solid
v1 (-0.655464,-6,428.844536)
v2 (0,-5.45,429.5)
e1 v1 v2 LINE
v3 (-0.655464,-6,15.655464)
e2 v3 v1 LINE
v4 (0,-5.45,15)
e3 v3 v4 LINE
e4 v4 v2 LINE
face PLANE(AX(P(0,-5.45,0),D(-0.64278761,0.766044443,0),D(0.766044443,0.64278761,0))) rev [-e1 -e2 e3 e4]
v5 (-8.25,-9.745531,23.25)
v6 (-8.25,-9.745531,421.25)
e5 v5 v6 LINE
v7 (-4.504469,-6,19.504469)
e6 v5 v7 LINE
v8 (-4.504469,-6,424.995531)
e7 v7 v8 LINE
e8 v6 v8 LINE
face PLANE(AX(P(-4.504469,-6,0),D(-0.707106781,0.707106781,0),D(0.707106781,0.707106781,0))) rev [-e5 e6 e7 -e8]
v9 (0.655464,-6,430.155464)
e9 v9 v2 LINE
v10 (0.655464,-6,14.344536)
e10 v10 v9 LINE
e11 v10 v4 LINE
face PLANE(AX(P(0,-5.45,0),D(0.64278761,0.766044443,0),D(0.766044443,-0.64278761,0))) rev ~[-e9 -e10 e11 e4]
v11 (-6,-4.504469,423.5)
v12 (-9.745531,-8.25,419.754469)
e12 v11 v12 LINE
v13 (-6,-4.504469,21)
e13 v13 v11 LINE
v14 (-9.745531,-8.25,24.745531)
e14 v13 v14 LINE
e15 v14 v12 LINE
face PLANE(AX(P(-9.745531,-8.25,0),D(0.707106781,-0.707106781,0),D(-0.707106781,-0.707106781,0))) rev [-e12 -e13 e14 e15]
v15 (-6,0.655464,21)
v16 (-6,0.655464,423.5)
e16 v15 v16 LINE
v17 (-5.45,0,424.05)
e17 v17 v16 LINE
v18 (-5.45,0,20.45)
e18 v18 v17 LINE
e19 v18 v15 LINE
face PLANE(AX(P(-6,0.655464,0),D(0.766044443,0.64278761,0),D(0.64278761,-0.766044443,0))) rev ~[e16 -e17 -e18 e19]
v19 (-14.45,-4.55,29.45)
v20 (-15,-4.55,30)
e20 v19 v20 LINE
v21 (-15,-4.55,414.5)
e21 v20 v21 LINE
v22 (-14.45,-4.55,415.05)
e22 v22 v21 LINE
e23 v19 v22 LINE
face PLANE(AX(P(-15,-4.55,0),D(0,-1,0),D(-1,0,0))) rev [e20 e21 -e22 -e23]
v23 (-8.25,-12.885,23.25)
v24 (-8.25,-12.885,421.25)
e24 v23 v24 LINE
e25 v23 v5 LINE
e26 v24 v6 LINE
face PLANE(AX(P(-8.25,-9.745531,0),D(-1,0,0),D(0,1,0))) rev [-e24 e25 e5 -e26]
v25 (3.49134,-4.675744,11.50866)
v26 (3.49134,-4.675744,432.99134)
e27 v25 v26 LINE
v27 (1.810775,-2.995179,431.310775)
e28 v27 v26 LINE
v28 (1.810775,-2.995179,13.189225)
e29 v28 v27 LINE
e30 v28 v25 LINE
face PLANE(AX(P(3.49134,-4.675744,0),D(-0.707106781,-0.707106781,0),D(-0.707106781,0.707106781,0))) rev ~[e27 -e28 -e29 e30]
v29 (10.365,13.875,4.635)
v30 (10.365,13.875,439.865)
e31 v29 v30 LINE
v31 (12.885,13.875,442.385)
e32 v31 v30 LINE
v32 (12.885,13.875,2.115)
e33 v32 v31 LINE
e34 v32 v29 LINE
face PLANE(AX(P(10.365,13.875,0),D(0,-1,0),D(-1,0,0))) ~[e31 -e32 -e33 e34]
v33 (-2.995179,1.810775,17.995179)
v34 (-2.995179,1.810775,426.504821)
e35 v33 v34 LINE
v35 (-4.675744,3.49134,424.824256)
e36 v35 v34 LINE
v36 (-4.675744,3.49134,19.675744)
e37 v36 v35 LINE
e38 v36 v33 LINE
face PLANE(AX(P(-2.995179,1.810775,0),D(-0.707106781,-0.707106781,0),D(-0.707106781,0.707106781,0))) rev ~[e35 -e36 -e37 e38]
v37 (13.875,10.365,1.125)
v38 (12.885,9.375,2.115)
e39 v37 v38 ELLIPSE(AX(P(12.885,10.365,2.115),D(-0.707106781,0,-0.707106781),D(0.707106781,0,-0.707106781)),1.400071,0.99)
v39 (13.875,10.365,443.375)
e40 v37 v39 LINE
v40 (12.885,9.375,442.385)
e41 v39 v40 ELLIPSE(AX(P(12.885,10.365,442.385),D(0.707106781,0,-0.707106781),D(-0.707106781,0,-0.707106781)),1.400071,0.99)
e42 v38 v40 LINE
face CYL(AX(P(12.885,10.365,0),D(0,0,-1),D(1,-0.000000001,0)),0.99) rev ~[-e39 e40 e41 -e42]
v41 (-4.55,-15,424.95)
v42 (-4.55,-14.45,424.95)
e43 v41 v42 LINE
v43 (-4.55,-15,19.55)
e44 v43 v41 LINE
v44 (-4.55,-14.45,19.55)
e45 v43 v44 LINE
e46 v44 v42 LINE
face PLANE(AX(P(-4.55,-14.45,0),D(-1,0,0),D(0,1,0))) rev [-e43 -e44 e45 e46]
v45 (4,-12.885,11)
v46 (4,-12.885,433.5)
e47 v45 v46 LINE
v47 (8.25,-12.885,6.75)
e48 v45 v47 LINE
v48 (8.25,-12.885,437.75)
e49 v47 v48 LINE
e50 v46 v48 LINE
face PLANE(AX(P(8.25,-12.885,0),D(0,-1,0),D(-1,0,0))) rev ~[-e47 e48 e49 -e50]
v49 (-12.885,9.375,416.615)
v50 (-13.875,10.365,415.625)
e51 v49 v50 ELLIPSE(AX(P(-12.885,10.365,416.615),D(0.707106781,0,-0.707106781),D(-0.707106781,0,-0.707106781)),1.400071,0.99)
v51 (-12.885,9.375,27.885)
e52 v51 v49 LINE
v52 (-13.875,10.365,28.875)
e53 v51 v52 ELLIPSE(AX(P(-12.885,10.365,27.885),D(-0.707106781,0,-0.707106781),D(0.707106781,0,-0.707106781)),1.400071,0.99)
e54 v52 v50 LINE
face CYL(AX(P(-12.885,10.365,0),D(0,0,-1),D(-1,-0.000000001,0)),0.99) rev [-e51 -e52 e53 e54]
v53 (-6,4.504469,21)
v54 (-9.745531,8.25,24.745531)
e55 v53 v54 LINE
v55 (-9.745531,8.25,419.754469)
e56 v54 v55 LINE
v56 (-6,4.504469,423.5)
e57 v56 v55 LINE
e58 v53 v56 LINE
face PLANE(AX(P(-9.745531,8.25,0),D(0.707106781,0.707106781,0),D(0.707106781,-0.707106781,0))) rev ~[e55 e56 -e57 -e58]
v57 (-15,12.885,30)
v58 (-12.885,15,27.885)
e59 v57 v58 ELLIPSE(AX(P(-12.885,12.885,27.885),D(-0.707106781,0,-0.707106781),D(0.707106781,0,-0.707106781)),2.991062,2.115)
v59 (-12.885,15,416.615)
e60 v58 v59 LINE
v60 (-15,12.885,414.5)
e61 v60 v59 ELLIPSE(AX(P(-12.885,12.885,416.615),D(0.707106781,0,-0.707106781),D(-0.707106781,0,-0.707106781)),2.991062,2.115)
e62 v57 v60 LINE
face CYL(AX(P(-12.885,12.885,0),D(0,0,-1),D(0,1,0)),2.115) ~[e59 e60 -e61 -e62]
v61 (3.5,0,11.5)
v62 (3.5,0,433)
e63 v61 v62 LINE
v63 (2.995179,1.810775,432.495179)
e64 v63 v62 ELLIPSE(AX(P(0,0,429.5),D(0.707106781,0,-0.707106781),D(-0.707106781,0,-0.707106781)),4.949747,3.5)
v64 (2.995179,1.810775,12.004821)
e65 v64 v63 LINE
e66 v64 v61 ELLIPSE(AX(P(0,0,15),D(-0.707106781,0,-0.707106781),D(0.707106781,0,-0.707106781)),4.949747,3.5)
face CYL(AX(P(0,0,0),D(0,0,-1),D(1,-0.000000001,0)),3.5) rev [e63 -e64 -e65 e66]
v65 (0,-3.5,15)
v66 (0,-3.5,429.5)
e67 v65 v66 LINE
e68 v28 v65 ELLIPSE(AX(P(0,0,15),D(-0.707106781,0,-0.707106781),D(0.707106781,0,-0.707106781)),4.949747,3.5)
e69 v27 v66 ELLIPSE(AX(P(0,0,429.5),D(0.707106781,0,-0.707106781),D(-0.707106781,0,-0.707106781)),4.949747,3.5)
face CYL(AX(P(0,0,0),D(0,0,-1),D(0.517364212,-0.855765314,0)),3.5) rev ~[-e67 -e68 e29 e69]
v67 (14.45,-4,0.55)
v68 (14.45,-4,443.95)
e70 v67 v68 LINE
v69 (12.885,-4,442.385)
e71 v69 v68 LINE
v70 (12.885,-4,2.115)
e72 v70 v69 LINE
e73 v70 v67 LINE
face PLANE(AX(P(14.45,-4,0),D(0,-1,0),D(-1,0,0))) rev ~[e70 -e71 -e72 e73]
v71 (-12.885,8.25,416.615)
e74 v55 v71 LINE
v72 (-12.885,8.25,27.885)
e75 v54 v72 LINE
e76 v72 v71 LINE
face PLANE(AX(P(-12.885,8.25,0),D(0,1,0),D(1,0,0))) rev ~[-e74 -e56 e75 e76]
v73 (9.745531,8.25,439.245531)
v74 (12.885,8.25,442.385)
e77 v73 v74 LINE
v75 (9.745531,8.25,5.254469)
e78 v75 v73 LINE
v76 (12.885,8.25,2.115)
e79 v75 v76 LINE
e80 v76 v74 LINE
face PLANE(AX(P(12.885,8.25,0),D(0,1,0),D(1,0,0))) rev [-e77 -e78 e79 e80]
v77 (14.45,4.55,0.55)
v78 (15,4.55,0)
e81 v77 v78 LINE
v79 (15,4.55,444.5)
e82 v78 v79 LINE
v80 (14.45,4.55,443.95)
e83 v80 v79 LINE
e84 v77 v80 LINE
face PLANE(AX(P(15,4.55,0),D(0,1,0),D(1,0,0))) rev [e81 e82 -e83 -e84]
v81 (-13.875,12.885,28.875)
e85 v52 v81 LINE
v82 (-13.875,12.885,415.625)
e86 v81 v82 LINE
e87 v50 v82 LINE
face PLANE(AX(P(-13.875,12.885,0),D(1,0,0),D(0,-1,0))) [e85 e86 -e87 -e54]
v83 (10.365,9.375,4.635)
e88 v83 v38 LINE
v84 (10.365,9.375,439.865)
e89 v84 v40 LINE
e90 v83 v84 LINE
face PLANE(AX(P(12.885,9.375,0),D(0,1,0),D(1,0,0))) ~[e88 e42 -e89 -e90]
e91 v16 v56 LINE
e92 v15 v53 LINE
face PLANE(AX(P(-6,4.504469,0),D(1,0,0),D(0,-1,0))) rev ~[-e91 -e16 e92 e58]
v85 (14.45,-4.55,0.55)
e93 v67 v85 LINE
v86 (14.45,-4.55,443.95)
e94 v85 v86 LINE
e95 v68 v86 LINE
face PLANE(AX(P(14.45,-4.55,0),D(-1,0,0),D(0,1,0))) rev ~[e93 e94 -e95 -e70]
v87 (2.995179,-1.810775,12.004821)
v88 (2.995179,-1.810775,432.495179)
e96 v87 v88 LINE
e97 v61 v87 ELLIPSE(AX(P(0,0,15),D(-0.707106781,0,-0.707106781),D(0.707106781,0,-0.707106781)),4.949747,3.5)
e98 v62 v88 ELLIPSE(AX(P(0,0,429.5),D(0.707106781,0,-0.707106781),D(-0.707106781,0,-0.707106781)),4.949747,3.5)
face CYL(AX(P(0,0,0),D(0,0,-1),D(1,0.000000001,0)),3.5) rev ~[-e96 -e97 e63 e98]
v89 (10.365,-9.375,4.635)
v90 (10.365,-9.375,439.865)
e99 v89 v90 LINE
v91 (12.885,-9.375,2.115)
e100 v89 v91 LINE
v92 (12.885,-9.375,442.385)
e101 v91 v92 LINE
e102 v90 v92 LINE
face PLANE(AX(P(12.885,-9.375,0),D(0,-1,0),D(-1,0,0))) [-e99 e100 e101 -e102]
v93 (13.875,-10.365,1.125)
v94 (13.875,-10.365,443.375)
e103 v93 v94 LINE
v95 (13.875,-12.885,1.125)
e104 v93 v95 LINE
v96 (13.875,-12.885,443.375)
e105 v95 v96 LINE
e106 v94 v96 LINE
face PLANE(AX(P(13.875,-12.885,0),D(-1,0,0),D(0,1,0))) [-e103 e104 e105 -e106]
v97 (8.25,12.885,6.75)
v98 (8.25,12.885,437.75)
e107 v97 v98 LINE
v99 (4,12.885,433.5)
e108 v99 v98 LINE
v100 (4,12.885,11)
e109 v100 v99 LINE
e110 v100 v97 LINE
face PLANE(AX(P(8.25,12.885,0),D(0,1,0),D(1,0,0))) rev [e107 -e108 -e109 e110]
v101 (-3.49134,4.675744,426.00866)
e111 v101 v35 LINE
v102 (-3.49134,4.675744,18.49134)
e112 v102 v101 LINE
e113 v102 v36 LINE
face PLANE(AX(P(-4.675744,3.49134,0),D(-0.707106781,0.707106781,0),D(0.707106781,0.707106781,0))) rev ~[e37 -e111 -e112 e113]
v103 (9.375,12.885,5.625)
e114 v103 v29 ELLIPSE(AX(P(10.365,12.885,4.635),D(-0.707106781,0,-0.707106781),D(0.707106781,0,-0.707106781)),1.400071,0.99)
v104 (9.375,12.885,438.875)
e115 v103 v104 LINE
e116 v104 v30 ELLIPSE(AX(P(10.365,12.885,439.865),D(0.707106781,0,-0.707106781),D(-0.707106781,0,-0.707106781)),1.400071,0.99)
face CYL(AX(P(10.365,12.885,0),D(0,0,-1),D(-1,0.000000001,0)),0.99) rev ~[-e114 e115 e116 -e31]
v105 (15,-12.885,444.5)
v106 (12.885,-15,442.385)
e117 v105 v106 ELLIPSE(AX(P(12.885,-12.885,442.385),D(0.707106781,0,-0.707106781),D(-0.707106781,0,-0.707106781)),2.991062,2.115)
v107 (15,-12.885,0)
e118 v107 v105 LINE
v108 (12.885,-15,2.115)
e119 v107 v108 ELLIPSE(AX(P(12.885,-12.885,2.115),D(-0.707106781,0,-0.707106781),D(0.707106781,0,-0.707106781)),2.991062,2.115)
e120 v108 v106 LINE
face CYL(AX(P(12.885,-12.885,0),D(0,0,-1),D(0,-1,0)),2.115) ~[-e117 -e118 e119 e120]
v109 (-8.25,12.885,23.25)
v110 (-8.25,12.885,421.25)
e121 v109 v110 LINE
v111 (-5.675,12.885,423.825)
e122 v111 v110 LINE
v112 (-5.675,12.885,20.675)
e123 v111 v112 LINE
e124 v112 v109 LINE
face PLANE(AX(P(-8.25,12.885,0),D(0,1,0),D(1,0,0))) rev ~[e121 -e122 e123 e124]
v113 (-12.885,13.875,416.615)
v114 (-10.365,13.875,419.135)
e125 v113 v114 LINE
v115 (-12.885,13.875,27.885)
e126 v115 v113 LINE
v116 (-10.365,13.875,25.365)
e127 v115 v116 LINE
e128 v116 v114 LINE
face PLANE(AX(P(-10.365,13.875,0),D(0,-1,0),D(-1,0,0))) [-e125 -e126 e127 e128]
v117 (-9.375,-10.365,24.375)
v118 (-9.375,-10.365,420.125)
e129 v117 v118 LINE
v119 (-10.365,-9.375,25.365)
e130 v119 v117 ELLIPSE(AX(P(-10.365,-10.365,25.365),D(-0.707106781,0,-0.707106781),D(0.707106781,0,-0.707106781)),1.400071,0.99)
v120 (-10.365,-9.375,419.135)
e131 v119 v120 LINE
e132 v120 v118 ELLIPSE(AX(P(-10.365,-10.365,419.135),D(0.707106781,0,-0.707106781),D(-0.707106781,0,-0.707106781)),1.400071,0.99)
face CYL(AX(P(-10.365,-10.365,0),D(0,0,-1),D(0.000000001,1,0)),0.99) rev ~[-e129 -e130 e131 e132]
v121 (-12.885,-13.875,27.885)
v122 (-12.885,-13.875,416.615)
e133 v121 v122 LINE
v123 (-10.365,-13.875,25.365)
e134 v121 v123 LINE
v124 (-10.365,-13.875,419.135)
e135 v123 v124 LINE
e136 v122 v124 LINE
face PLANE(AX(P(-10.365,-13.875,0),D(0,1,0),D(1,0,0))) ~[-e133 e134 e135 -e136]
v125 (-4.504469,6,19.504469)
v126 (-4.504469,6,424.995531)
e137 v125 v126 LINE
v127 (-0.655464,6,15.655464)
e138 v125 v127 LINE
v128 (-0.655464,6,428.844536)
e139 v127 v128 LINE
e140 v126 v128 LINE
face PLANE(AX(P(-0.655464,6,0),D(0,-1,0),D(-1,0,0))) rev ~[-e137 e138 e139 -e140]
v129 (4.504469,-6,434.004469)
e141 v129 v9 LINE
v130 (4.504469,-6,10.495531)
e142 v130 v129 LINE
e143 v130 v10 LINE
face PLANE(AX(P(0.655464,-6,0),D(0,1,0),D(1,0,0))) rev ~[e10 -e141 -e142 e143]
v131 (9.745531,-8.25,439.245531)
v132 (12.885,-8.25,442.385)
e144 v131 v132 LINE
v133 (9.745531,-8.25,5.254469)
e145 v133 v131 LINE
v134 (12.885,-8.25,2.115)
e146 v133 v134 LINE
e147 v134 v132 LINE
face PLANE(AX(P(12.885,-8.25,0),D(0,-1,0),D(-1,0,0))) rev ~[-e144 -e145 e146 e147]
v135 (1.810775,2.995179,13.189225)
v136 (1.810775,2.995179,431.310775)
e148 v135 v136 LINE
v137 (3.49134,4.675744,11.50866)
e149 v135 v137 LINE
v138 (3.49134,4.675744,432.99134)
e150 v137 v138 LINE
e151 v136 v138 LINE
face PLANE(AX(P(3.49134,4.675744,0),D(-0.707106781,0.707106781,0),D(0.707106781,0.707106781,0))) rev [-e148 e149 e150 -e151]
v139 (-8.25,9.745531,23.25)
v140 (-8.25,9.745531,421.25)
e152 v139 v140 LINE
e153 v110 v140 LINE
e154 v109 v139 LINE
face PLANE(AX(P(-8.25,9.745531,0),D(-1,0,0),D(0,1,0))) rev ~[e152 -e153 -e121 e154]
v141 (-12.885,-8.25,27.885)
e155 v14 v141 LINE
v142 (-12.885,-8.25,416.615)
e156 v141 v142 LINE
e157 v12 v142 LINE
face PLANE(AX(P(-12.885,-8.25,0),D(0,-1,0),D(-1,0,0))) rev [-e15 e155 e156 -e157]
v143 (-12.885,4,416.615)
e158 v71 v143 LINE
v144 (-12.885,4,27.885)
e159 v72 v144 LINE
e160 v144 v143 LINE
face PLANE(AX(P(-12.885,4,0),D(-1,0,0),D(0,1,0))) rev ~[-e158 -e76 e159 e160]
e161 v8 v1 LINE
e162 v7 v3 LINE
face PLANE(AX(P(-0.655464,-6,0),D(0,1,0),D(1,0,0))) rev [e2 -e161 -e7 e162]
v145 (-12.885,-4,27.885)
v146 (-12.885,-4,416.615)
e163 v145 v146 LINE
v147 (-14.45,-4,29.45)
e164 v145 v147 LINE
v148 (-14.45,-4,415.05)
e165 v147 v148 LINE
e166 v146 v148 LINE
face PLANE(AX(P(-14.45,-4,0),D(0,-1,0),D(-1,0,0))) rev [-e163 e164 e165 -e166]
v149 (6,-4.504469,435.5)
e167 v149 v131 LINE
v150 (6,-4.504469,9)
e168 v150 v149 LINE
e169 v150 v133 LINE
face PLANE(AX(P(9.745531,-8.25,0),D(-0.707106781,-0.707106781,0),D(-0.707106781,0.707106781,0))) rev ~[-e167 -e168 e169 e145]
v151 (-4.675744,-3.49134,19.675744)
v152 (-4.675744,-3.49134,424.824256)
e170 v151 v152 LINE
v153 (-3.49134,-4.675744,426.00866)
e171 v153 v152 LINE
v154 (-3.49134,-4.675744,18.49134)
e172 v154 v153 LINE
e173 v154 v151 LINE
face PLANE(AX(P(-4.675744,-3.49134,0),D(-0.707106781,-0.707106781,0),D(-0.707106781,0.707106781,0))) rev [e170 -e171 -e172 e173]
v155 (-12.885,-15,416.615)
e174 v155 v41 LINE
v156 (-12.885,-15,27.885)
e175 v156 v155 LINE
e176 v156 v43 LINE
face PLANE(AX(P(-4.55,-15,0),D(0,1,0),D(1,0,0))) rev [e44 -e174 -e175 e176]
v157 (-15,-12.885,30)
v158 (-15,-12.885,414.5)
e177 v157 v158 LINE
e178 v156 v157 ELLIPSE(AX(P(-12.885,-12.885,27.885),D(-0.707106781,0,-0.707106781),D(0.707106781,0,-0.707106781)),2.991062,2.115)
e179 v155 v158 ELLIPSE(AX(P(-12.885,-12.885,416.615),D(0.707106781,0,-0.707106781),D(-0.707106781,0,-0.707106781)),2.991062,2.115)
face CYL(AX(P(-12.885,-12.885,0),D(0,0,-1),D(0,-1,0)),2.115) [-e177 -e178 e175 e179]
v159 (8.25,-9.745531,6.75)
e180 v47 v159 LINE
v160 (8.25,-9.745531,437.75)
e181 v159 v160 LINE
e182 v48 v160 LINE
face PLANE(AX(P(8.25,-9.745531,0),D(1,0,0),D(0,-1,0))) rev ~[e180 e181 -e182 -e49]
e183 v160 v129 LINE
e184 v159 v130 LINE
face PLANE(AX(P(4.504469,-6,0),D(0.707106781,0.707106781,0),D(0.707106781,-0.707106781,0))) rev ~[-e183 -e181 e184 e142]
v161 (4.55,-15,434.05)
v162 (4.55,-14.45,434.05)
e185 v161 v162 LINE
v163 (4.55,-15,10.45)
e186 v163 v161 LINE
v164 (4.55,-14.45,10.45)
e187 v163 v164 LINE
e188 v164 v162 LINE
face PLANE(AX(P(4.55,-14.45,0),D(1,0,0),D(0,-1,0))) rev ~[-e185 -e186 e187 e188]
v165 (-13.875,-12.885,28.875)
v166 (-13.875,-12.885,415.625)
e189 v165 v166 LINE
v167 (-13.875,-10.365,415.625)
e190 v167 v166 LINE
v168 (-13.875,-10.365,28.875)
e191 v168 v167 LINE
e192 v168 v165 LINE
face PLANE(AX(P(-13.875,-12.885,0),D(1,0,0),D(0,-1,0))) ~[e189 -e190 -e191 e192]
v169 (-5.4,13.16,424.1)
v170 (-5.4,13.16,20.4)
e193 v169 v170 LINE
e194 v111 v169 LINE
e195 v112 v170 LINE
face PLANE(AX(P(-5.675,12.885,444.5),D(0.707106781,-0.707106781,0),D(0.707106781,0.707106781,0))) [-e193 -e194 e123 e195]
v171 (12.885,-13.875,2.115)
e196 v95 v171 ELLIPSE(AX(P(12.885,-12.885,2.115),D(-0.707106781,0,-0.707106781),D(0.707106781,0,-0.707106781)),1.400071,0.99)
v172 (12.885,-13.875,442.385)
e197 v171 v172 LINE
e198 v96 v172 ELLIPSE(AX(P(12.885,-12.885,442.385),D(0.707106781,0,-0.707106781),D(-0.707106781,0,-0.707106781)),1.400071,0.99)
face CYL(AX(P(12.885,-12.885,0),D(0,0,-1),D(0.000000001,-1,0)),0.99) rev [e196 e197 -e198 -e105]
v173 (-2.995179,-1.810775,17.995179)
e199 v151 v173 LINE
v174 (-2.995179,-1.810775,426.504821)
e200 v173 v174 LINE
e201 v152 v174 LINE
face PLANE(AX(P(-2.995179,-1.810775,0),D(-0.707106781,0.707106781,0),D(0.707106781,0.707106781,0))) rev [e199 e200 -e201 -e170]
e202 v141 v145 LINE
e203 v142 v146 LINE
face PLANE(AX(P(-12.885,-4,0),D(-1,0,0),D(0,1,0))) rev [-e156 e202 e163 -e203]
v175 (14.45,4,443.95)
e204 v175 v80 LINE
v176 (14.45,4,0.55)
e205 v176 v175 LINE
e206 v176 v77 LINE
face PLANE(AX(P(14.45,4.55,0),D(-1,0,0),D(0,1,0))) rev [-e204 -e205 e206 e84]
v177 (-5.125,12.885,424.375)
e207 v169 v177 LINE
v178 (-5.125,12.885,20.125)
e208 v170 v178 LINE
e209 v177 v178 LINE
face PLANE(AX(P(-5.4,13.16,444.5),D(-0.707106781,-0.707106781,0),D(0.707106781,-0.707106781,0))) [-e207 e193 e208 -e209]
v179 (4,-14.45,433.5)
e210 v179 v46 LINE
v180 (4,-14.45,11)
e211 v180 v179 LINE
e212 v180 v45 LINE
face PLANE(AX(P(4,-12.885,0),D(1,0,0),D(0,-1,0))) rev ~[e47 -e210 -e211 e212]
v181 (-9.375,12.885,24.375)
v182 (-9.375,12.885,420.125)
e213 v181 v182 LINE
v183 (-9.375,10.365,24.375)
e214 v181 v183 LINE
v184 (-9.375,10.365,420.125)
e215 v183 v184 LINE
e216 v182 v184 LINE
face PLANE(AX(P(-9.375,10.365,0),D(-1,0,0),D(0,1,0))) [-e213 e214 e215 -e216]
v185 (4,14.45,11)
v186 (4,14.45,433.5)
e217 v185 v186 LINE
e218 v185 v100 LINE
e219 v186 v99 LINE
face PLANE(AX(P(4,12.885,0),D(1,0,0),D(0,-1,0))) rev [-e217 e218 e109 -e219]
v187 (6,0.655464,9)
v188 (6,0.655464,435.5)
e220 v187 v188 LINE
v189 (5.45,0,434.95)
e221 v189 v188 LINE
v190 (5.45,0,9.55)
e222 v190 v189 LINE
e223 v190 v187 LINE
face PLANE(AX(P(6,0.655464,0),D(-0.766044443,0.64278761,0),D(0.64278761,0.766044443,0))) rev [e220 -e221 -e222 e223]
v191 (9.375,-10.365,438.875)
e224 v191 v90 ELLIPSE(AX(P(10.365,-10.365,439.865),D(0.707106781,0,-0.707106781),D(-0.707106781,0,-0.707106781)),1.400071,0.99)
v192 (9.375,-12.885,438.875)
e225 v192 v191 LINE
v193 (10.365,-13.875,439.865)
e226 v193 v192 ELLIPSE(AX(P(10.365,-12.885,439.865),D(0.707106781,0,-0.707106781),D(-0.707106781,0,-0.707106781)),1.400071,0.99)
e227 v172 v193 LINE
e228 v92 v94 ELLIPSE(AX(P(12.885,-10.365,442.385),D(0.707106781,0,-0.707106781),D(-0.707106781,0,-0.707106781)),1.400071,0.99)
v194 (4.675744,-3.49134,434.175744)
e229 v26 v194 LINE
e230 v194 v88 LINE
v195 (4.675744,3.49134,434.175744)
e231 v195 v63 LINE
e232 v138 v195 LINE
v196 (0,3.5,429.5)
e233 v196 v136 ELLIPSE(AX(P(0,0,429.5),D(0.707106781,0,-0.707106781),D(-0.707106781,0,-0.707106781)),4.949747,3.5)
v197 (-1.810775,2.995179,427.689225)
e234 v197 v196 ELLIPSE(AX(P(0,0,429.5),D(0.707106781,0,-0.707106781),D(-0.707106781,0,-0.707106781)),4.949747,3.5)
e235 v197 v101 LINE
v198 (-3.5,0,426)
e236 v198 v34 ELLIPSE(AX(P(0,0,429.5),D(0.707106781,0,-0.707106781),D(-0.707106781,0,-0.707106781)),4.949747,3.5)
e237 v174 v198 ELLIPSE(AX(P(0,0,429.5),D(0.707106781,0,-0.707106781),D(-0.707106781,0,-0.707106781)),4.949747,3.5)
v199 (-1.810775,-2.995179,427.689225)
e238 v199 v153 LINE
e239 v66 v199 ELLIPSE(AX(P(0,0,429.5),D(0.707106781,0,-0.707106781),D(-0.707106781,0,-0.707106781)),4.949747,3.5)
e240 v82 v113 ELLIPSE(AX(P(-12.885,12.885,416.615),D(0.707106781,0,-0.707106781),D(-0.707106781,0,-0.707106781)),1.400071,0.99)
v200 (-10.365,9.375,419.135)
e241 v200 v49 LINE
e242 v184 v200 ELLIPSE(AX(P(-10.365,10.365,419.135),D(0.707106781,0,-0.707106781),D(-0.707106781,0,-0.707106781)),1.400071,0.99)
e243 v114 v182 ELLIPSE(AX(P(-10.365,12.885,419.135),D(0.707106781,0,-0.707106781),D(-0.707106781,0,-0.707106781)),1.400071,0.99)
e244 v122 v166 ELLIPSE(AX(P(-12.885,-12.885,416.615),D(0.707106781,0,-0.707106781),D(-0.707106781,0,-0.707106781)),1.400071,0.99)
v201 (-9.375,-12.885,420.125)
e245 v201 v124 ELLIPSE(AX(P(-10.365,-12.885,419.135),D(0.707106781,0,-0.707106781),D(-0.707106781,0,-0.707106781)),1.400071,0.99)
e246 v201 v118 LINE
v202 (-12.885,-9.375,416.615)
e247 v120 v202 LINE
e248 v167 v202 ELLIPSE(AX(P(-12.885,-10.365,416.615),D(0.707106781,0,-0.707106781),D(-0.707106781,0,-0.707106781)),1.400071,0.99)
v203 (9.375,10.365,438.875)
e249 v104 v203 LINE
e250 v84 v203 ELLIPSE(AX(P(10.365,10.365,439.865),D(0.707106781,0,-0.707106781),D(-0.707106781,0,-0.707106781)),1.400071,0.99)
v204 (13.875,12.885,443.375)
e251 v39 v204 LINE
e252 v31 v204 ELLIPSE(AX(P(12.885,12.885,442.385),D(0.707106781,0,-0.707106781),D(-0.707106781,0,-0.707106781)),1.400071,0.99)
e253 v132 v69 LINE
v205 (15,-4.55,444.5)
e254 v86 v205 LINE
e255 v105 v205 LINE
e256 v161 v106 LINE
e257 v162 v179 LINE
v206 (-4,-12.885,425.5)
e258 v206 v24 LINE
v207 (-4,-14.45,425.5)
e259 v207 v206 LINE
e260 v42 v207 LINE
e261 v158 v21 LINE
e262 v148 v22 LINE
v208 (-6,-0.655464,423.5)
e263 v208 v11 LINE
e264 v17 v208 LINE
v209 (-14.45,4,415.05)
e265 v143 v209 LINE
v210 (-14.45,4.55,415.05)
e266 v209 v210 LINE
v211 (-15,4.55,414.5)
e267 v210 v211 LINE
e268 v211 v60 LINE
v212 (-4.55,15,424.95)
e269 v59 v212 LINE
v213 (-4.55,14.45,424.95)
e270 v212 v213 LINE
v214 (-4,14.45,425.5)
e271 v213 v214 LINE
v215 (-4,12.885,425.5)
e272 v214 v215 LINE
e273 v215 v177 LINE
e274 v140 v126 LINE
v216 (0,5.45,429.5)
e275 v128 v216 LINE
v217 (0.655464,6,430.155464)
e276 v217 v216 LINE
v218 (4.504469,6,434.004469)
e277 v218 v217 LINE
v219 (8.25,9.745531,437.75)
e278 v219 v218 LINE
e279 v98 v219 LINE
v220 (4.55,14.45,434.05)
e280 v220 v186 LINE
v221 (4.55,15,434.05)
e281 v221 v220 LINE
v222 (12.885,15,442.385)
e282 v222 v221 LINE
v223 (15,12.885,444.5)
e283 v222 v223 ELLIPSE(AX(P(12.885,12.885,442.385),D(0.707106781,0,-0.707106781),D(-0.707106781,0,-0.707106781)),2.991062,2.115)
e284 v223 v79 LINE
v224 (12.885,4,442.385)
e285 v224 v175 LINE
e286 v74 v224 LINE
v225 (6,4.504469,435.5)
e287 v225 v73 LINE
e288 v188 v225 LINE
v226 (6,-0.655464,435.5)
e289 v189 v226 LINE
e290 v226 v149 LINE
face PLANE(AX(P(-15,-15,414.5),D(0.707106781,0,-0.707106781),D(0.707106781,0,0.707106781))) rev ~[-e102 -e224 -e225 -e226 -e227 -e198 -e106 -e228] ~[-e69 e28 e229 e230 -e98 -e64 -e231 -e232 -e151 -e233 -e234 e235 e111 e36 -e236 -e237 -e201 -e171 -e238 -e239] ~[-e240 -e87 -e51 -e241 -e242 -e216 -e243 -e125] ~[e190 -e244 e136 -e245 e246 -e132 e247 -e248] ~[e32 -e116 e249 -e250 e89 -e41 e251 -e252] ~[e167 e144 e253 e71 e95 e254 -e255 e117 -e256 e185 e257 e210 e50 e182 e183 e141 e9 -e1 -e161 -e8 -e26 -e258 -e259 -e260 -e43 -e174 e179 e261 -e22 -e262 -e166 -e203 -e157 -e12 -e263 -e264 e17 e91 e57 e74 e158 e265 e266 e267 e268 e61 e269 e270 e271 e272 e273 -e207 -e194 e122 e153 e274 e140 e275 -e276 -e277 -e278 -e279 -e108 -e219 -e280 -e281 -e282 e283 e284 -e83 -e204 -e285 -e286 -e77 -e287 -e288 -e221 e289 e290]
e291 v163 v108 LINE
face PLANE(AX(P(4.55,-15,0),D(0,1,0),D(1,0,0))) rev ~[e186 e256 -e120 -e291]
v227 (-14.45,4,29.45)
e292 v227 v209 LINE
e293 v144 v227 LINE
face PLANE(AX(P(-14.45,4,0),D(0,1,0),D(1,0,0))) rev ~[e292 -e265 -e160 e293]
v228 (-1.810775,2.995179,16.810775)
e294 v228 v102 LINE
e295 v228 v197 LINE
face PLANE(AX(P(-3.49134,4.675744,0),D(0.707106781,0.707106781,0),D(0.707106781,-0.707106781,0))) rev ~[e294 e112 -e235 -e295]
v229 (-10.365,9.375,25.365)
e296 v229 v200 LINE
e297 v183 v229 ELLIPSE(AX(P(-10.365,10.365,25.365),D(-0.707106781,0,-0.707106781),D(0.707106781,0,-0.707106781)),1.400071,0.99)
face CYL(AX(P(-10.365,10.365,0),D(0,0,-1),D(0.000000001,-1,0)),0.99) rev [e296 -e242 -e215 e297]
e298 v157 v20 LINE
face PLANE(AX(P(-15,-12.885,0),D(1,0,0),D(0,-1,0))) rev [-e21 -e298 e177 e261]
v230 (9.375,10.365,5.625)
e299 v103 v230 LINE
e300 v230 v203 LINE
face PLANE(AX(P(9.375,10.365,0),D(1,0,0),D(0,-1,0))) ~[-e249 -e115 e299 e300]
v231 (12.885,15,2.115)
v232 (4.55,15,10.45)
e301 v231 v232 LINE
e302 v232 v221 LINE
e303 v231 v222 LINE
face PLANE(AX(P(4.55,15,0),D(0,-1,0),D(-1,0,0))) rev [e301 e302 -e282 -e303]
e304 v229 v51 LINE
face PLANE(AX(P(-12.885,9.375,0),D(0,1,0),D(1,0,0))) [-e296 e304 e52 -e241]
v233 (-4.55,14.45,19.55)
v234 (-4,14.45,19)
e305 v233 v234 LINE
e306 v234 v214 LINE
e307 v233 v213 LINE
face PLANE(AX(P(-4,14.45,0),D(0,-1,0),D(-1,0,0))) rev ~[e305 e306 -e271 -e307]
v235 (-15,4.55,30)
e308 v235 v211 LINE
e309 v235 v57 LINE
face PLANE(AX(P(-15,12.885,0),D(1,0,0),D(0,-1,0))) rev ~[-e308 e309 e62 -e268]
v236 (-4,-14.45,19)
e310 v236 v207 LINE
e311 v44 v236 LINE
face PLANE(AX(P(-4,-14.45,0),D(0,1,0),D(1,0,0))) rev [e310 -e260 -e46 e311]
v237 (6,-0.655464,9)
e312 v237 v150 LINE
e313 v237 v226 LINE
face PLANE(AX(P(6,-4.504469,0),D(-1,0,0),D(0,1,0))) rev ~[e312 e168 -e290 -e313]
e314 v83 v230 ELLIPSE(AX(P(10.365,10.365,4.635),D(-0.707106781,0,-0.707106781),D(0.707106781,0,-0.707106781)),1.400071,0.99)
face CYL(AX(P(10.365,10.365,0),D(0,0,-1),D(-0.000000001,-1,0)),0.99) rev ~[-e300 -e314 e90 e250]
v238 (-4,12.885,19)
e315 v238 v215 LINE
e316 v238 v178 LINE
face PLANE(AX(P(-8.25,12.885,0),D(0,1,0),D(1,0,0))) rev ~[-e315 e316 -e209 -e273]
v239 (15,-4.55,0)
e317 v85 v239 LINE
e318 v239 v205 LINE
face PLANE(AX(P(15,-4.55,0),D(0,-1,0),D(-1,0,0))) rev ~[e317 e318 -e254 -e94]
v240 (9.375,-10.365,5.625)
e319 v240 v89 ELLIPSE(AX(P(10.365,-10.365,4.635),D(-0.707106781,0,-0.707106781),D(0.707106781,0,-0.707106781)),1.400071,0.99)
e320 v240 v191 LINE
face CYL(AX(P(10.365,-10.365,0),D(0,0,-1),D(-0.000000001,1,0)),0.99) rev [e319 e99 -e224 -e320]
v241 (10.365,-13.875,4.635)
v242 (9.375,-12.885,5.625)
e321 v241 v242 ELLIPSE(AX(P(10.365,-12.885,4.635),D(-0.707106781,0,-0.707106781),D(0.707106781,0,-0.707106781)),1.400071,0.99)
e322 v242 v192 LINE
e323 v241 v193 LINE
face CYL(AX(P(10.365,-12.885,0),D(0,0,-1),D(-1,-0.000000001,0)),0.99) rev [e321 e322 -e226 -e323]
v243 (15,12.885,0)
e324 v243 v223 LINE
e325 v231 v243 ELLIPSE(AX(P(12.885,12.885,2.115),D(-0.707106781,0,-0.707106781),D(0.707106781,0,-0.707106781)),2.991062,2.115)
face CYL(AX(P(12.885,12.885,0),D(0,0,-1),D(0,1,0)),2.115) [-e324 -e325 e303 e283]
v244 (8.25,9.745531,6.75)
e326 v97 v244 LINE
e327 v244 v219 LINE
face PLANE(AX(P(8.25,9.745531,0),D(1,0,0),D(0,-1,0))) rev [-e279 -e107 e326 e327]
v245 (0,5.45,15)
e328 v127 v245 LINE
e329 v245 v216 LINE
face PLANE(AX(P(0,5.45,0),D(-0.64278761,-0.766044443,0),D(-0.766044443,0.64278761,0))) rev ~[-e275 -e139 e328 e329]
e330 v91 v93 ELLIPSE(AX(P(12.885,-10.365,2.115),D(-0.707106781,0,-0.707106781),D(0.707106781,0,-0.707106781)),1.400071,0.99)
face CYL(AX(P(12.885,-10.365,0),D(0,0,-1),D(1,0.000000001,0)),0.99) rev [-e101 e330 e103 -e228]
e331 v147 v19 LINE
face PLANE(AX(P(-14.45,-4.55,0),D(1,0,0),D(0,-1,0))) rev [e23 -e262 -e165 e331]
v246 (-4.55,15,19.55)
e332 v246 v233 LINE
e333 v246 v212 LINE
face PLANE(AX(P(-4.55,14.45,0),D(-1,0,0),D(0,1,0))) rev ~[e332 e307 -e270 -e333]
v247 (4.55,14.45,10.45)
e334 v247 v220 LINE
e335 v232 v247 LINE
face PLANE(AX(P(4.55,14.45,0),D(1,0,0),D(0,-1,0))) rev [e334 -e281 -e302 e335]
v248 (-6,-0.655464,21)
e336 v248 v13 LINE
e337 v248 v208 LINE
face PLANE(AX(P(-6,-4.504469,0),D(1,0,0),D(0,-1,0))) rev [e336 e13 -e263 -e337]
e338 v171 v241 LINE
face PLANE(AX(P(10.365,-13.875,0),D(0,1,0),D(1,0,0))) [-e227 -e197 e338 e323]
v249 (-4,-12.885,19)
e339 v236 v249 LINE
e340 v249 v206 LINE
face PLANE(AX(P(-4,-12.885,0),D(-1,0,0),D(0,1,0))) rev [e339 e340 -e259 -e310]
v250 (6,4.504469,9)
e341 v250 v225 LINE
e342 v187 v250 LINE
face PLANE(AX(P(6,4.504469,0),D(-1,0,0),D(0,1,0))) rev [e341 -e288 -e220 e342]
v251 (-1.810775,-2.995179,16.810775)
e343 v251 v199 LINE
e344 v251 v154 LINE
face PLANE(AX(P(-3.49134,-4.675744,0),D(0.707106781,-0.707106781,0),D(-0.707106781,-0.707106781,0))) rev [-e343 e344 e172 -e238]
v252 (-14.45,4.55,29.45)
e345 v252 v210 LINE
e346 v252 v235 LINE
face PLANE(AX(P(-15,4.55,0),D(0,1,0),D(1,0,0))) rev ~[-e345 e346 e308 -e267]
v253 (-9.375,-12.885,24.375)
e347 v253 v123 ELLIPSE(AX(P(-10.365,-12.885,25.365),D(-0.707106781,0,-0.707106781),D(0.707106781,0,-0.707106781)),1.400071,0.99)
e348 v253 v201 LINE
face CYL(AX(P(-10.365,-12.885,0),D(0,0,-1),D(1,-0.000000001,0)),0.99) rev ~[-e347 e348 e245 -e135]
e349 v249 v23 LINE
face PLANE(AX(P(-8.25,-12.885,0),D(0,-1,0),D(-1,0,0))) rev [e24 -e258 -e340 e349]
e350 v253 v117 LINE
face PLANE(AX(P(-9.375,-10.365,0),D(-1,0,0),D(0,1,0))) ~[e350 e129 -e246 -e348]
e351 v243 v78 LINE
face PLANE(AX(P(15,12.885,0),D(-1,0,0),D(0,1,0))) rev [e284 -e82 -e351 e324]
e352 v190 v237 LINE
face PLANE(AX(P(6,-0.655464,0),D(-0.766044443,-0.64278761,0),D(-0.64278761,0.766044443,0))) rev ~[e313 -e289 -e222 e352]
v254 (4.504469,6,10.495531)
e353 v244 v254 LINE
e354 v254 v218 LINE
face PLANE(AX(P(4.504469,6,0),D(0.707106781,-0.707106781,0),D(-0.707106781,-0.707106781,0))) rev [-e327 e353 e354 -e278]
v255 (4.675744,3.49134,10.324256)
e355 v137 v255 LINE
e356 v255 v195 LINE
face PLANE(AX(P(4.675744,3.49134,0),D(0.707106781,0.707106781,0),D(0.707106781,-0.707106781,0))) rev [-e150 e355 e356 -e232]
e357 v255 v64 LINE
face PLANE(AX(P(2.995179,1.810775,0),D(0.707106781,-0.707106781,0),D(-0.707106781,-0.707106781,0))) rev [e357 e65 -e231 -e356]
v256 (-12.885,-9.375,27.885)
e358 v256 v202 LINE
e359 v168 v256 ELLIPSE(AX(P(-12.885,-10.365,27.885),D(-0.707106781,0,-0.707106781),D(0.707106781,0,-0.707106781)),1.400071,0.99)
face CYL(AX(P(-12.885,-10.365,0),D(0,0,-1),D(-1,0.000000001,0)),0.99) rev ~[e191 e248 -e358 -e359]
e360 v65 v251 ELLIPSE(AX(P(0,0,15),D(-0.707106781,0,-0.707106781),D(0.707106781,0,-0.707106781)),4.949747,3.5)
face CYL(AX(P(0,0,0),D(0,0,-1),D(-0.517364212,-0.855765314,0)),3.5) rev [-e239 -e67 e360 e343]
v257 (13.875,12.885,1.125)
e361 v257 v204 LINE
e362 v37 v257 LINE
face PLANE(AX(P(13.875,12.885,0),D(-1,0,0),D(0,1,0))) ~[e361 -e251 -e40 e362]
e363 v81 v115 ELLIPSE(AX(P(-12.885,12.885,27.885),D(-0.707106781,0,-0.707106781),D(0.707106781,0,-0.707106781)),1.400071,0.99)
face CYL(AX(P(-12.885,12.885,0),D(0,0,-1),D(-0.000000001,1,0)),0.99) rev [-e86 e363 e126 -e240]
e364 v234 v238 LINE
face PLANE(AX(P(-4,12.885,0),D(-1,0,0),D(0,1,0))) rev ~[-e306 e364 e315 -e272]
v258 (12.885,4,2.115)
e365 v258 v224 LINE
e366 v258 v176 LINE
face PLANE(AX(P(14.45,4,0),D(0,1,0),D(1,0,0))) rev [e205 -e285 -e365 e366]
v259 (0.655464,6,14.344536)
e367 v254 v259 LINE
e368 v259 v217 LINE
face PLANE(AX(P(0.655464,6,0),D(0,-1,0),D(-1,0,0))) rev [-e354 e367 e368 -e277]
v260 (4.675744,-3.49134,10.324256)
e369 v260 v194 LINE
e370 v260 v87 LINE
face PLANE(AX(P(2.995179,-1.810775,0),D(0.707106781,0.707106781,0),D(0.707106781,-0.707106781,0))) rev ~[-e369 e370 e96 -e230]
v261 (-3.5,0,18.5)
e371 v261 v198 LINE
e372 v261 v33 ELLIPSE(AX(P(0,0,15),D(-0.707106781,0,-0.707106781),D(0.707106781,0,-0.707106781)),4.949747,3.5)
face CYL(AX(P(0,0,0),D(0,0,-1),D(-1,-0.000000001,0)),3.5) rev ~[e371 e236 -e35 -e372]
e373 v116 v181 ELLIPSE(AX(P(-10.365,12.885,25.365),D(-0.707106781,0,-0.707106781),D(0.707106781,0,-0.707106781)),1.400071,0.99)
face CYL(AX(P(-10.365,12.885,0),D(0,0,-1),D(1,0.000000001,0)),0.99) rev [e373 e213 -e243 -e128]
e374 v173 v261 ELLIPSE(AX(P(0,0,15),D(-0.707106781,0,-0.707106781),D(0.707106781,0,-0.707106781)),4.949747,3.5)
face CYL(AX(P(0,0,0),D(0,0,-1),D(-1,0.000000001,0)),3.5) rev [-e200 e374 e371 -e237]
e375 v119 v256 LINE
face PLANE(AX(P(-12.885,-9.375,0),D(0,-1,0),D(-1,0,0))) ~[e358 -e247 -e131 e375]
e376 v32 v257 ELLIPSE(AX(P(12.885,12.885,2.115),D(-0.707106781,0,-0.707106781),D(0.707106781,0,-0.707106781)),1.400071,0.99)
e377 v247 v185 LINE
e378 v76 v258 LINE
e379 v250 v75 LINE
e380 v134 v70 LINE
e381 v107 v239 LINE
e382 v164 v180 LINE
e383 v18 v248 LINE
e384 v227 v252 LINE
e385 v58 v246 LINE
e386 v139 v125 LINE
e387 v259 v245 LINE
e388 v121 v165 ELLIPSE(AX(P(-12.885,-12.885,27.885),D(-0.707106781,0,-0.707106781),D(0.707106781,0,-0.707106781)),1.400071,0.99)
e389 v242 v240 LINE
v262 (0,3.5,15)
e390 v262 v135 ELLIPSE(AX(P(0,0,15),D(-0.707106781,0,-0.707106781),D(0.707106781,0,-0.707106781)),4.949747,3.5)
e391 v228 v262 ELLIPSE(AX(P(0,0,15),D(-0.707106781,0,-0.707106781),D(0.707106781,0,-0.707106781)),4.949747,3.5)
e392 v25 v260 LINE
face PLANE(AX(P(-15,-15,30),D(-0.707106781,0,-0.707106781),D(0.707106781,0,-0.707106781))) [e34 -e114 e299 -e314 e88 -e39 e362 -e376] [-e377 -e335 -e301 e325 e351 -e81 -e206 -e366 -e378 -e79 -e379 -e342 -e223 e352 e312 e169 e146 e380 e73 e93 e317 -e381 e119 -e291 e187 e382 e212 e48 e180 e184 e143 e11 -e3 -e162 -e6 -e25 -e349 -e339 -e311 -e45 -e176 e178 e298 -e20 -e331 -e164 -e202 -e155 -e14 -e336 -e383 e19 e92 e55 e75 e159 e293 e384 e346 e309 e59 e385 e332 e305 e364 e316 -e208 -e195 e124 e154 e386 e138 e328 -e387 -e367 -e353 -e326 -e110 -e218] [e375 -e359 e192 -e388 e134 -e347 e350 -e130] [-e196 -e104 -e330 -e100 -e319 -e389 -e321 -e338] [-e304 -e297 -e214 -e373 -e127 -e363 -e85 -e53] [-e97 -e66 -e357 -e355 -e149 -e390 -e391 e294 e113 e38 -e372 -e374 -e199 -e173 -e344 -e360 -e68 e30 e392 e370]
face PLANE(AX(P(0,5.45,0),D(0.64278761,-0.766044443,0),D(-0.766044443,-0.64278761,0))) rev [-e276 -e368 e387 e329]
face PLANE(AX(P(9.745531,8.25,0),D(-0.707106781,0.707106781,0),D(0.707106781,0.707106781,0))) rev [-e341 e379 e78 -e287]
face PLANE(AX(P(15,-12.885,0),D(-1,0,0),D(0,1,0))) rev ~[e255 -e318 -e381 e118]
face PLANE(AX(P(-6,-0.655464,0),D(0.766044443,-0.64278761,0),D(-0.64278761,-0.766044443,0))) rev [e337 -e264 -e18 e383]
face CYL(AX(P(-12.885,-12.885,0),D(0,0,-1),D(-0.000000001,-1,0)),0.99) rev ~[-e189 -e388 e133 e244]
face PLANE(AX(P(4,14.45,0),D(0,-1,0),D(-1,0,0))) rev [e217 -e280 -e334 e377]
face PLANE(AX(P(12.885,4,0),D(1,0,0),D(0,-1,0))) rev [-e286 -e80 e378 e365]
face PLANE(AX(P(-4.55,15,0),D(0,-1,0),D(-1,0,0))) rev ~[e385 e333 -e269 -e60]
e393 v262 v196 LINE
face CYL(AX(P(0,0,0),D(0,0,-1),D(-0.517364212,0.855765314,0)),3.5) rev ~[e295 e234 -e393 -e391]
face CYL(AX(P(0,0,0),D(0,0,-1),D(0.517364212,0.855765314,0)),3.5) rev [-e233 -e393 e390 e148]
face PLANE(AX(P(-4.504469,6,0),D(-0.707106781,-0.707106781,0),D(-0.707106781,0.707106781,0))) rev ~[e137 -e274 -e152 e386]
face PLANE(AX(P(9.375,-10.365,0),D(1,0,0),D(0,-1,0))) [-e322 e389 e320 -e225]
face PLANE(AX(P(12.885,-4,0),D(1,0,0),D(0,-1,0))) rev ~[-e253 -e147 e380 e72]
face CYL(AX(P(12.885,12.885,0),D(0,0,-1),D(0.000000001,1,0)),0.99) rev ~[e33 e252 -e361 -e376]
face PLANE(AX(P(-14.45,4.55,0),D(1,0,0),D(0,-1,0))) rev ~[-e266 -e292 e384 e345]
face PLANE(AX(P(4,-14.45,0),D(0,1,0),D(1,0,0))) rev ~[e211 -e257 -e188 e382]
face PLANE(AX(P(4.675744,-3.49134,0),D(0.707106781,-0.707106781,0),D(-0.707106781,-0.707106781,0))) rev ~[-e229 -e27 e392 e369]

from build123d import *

# Parameters (mm, degrees)
BOSS_EXTRUDE1_DEPTH     = 444.5
CUT_EXTRUDE1_DEPTH      = 1
CUT_EXTRUDE1_DEPTH_BACK = 445.5
CUT_EXTRUDE2_DEPTH      = 31


with BuildPart() as part:
    # Sketch4 → Boss-Extrude1 (new body)
    with BuildSketch(Plane.XY):
        with BuildLine():
            Line((0, -5.45), (0.655464476, -6))
            Line((0.655464476, -6), (4.504469158, -6))
            Line((4.504469158, -6), (8.25, -9.745530842))
            Line((8.25, -9.745530842), (8.25, -12.885))
            Line((8.25, -12.885), (4, -12.885))
            Line((4, -12.885), (4, -14.45))
            Line((4, -14.45), (4.55, -14.45))
            Line((4.55, -14.45), (4.55, -15))
            Line((4.55, -15), (12.885, -15))
            ThreePointArc((12.885, -15), (14.380530842, -14.380530842), (15, -12.885))
            Line((15, -12.885), (15, -4.55))
            Line((15, -4.55), (14.45, -4.55))
            Line((14.45, -4.55), (14.45, -4))
            Line((14.45, -4), (12.885, -4))
            Line((12.885, -4), (12.885, -8.25))
            Line((12.885, -8.25), (9.745530842, -8.25))
            Line((9.745530842, -8.25), (6, -4.504469158))
            Line((6, -4.504469158), (6, -0.655464476))
            Line((6, -0.655464476), (5.45, 0))
            Line((5.45, 0), (3.5, 0))
            ThreePointArc((3.5, 0), (3.371433308, -0.939913534), (2.995178599, -1.81077474))
            Line((2.995178599, -1.81077474), (4.675743591, -3.491339732))
            Line((4.675743591, -3.491339732), (3.491339732, -4.675743591))
            Line((3.491339732, -4.675743591), (1.81077474, -2.995178599))
            ThreePointArc((1.81077474, -2.995178599), (0.939913534, -3.371433308), (0, -3.5))
            Line((0, -3.5), (0, -5.45))
        make_face()
        with BuildLine():
            Line((9.375, -10.365), (9.375, -12.885))
            ThreePointArc((9.375, -12.885), (9.664964287, -13.585035713), (10.365, -13.875))
            Line((10.365, -13.875), (12.885, -13.875))
            ThreePointArc((12.885, -13.875), (13.585035713, -13.585035713), (13.875, -12.885))
            Line((13.875, -12.885), (13.875, -10.365))
            ThreePointArc((13.875, -10.365), (13.585035713, -9.664964287), (12.885, -9.375))
            Line((12.885, -9.375), (10.365, -9.375))
            ThreePointArc((10.365, -9.375), (9.664964287, -9.664964287), (9.375, -10.365))
        make_face(mode=Mode.SUBTRACT)
    extrude(amount=BOSS_EXTRUDE1_DEPTH)

    # Mirror1: part across plane


with BuildPart() as part_1:
    add(part.part)
    add(part.part.mirror(Plane(origin=(0, 0, 0), x_dir=(0, 0, 1), z_dir=(1, 0, 0))))

    # Mirror2: part across plane


with BuildPart() as part_2:
    add(part_1.part)
    add(part_1.part.mirror(Plane.ZX))

    # Sketch5 → Cut-Extrude1 (cut, two sides)
    with BuildSketch(Plane.XY.offset(444.5)) as cut_extrude1_sk:
        Polygon((-5.675, 12.885), (-5.4, 13.16), (-5.125, 12.885), align=None)
    extrude(amount=CUT_EXTRUDE1_DEPTH, mode=Mode.SUBTRACT)
    extrude(cut_extrude1_sk.sketch, amount=-CUT_EXTRUDE1_DEPTH_BACK, mode=Mode.SUBTRACT)

    # Sketch6 → Cut-Extrude2 (cut, through all)
    with BuildSketch(Plane.XZ.offset(15)):
        Polygon((15, 444.5), (-15, 444.5), (-15, 414.5), align=None)
        Polygon((15, 0), (-15, 0), (-15, 30), align=None)
    extrude(amount=-CUT_EXTRUDE2_DEPTH, mode=Mode.SUBTRACT)


solid = part_2.part
